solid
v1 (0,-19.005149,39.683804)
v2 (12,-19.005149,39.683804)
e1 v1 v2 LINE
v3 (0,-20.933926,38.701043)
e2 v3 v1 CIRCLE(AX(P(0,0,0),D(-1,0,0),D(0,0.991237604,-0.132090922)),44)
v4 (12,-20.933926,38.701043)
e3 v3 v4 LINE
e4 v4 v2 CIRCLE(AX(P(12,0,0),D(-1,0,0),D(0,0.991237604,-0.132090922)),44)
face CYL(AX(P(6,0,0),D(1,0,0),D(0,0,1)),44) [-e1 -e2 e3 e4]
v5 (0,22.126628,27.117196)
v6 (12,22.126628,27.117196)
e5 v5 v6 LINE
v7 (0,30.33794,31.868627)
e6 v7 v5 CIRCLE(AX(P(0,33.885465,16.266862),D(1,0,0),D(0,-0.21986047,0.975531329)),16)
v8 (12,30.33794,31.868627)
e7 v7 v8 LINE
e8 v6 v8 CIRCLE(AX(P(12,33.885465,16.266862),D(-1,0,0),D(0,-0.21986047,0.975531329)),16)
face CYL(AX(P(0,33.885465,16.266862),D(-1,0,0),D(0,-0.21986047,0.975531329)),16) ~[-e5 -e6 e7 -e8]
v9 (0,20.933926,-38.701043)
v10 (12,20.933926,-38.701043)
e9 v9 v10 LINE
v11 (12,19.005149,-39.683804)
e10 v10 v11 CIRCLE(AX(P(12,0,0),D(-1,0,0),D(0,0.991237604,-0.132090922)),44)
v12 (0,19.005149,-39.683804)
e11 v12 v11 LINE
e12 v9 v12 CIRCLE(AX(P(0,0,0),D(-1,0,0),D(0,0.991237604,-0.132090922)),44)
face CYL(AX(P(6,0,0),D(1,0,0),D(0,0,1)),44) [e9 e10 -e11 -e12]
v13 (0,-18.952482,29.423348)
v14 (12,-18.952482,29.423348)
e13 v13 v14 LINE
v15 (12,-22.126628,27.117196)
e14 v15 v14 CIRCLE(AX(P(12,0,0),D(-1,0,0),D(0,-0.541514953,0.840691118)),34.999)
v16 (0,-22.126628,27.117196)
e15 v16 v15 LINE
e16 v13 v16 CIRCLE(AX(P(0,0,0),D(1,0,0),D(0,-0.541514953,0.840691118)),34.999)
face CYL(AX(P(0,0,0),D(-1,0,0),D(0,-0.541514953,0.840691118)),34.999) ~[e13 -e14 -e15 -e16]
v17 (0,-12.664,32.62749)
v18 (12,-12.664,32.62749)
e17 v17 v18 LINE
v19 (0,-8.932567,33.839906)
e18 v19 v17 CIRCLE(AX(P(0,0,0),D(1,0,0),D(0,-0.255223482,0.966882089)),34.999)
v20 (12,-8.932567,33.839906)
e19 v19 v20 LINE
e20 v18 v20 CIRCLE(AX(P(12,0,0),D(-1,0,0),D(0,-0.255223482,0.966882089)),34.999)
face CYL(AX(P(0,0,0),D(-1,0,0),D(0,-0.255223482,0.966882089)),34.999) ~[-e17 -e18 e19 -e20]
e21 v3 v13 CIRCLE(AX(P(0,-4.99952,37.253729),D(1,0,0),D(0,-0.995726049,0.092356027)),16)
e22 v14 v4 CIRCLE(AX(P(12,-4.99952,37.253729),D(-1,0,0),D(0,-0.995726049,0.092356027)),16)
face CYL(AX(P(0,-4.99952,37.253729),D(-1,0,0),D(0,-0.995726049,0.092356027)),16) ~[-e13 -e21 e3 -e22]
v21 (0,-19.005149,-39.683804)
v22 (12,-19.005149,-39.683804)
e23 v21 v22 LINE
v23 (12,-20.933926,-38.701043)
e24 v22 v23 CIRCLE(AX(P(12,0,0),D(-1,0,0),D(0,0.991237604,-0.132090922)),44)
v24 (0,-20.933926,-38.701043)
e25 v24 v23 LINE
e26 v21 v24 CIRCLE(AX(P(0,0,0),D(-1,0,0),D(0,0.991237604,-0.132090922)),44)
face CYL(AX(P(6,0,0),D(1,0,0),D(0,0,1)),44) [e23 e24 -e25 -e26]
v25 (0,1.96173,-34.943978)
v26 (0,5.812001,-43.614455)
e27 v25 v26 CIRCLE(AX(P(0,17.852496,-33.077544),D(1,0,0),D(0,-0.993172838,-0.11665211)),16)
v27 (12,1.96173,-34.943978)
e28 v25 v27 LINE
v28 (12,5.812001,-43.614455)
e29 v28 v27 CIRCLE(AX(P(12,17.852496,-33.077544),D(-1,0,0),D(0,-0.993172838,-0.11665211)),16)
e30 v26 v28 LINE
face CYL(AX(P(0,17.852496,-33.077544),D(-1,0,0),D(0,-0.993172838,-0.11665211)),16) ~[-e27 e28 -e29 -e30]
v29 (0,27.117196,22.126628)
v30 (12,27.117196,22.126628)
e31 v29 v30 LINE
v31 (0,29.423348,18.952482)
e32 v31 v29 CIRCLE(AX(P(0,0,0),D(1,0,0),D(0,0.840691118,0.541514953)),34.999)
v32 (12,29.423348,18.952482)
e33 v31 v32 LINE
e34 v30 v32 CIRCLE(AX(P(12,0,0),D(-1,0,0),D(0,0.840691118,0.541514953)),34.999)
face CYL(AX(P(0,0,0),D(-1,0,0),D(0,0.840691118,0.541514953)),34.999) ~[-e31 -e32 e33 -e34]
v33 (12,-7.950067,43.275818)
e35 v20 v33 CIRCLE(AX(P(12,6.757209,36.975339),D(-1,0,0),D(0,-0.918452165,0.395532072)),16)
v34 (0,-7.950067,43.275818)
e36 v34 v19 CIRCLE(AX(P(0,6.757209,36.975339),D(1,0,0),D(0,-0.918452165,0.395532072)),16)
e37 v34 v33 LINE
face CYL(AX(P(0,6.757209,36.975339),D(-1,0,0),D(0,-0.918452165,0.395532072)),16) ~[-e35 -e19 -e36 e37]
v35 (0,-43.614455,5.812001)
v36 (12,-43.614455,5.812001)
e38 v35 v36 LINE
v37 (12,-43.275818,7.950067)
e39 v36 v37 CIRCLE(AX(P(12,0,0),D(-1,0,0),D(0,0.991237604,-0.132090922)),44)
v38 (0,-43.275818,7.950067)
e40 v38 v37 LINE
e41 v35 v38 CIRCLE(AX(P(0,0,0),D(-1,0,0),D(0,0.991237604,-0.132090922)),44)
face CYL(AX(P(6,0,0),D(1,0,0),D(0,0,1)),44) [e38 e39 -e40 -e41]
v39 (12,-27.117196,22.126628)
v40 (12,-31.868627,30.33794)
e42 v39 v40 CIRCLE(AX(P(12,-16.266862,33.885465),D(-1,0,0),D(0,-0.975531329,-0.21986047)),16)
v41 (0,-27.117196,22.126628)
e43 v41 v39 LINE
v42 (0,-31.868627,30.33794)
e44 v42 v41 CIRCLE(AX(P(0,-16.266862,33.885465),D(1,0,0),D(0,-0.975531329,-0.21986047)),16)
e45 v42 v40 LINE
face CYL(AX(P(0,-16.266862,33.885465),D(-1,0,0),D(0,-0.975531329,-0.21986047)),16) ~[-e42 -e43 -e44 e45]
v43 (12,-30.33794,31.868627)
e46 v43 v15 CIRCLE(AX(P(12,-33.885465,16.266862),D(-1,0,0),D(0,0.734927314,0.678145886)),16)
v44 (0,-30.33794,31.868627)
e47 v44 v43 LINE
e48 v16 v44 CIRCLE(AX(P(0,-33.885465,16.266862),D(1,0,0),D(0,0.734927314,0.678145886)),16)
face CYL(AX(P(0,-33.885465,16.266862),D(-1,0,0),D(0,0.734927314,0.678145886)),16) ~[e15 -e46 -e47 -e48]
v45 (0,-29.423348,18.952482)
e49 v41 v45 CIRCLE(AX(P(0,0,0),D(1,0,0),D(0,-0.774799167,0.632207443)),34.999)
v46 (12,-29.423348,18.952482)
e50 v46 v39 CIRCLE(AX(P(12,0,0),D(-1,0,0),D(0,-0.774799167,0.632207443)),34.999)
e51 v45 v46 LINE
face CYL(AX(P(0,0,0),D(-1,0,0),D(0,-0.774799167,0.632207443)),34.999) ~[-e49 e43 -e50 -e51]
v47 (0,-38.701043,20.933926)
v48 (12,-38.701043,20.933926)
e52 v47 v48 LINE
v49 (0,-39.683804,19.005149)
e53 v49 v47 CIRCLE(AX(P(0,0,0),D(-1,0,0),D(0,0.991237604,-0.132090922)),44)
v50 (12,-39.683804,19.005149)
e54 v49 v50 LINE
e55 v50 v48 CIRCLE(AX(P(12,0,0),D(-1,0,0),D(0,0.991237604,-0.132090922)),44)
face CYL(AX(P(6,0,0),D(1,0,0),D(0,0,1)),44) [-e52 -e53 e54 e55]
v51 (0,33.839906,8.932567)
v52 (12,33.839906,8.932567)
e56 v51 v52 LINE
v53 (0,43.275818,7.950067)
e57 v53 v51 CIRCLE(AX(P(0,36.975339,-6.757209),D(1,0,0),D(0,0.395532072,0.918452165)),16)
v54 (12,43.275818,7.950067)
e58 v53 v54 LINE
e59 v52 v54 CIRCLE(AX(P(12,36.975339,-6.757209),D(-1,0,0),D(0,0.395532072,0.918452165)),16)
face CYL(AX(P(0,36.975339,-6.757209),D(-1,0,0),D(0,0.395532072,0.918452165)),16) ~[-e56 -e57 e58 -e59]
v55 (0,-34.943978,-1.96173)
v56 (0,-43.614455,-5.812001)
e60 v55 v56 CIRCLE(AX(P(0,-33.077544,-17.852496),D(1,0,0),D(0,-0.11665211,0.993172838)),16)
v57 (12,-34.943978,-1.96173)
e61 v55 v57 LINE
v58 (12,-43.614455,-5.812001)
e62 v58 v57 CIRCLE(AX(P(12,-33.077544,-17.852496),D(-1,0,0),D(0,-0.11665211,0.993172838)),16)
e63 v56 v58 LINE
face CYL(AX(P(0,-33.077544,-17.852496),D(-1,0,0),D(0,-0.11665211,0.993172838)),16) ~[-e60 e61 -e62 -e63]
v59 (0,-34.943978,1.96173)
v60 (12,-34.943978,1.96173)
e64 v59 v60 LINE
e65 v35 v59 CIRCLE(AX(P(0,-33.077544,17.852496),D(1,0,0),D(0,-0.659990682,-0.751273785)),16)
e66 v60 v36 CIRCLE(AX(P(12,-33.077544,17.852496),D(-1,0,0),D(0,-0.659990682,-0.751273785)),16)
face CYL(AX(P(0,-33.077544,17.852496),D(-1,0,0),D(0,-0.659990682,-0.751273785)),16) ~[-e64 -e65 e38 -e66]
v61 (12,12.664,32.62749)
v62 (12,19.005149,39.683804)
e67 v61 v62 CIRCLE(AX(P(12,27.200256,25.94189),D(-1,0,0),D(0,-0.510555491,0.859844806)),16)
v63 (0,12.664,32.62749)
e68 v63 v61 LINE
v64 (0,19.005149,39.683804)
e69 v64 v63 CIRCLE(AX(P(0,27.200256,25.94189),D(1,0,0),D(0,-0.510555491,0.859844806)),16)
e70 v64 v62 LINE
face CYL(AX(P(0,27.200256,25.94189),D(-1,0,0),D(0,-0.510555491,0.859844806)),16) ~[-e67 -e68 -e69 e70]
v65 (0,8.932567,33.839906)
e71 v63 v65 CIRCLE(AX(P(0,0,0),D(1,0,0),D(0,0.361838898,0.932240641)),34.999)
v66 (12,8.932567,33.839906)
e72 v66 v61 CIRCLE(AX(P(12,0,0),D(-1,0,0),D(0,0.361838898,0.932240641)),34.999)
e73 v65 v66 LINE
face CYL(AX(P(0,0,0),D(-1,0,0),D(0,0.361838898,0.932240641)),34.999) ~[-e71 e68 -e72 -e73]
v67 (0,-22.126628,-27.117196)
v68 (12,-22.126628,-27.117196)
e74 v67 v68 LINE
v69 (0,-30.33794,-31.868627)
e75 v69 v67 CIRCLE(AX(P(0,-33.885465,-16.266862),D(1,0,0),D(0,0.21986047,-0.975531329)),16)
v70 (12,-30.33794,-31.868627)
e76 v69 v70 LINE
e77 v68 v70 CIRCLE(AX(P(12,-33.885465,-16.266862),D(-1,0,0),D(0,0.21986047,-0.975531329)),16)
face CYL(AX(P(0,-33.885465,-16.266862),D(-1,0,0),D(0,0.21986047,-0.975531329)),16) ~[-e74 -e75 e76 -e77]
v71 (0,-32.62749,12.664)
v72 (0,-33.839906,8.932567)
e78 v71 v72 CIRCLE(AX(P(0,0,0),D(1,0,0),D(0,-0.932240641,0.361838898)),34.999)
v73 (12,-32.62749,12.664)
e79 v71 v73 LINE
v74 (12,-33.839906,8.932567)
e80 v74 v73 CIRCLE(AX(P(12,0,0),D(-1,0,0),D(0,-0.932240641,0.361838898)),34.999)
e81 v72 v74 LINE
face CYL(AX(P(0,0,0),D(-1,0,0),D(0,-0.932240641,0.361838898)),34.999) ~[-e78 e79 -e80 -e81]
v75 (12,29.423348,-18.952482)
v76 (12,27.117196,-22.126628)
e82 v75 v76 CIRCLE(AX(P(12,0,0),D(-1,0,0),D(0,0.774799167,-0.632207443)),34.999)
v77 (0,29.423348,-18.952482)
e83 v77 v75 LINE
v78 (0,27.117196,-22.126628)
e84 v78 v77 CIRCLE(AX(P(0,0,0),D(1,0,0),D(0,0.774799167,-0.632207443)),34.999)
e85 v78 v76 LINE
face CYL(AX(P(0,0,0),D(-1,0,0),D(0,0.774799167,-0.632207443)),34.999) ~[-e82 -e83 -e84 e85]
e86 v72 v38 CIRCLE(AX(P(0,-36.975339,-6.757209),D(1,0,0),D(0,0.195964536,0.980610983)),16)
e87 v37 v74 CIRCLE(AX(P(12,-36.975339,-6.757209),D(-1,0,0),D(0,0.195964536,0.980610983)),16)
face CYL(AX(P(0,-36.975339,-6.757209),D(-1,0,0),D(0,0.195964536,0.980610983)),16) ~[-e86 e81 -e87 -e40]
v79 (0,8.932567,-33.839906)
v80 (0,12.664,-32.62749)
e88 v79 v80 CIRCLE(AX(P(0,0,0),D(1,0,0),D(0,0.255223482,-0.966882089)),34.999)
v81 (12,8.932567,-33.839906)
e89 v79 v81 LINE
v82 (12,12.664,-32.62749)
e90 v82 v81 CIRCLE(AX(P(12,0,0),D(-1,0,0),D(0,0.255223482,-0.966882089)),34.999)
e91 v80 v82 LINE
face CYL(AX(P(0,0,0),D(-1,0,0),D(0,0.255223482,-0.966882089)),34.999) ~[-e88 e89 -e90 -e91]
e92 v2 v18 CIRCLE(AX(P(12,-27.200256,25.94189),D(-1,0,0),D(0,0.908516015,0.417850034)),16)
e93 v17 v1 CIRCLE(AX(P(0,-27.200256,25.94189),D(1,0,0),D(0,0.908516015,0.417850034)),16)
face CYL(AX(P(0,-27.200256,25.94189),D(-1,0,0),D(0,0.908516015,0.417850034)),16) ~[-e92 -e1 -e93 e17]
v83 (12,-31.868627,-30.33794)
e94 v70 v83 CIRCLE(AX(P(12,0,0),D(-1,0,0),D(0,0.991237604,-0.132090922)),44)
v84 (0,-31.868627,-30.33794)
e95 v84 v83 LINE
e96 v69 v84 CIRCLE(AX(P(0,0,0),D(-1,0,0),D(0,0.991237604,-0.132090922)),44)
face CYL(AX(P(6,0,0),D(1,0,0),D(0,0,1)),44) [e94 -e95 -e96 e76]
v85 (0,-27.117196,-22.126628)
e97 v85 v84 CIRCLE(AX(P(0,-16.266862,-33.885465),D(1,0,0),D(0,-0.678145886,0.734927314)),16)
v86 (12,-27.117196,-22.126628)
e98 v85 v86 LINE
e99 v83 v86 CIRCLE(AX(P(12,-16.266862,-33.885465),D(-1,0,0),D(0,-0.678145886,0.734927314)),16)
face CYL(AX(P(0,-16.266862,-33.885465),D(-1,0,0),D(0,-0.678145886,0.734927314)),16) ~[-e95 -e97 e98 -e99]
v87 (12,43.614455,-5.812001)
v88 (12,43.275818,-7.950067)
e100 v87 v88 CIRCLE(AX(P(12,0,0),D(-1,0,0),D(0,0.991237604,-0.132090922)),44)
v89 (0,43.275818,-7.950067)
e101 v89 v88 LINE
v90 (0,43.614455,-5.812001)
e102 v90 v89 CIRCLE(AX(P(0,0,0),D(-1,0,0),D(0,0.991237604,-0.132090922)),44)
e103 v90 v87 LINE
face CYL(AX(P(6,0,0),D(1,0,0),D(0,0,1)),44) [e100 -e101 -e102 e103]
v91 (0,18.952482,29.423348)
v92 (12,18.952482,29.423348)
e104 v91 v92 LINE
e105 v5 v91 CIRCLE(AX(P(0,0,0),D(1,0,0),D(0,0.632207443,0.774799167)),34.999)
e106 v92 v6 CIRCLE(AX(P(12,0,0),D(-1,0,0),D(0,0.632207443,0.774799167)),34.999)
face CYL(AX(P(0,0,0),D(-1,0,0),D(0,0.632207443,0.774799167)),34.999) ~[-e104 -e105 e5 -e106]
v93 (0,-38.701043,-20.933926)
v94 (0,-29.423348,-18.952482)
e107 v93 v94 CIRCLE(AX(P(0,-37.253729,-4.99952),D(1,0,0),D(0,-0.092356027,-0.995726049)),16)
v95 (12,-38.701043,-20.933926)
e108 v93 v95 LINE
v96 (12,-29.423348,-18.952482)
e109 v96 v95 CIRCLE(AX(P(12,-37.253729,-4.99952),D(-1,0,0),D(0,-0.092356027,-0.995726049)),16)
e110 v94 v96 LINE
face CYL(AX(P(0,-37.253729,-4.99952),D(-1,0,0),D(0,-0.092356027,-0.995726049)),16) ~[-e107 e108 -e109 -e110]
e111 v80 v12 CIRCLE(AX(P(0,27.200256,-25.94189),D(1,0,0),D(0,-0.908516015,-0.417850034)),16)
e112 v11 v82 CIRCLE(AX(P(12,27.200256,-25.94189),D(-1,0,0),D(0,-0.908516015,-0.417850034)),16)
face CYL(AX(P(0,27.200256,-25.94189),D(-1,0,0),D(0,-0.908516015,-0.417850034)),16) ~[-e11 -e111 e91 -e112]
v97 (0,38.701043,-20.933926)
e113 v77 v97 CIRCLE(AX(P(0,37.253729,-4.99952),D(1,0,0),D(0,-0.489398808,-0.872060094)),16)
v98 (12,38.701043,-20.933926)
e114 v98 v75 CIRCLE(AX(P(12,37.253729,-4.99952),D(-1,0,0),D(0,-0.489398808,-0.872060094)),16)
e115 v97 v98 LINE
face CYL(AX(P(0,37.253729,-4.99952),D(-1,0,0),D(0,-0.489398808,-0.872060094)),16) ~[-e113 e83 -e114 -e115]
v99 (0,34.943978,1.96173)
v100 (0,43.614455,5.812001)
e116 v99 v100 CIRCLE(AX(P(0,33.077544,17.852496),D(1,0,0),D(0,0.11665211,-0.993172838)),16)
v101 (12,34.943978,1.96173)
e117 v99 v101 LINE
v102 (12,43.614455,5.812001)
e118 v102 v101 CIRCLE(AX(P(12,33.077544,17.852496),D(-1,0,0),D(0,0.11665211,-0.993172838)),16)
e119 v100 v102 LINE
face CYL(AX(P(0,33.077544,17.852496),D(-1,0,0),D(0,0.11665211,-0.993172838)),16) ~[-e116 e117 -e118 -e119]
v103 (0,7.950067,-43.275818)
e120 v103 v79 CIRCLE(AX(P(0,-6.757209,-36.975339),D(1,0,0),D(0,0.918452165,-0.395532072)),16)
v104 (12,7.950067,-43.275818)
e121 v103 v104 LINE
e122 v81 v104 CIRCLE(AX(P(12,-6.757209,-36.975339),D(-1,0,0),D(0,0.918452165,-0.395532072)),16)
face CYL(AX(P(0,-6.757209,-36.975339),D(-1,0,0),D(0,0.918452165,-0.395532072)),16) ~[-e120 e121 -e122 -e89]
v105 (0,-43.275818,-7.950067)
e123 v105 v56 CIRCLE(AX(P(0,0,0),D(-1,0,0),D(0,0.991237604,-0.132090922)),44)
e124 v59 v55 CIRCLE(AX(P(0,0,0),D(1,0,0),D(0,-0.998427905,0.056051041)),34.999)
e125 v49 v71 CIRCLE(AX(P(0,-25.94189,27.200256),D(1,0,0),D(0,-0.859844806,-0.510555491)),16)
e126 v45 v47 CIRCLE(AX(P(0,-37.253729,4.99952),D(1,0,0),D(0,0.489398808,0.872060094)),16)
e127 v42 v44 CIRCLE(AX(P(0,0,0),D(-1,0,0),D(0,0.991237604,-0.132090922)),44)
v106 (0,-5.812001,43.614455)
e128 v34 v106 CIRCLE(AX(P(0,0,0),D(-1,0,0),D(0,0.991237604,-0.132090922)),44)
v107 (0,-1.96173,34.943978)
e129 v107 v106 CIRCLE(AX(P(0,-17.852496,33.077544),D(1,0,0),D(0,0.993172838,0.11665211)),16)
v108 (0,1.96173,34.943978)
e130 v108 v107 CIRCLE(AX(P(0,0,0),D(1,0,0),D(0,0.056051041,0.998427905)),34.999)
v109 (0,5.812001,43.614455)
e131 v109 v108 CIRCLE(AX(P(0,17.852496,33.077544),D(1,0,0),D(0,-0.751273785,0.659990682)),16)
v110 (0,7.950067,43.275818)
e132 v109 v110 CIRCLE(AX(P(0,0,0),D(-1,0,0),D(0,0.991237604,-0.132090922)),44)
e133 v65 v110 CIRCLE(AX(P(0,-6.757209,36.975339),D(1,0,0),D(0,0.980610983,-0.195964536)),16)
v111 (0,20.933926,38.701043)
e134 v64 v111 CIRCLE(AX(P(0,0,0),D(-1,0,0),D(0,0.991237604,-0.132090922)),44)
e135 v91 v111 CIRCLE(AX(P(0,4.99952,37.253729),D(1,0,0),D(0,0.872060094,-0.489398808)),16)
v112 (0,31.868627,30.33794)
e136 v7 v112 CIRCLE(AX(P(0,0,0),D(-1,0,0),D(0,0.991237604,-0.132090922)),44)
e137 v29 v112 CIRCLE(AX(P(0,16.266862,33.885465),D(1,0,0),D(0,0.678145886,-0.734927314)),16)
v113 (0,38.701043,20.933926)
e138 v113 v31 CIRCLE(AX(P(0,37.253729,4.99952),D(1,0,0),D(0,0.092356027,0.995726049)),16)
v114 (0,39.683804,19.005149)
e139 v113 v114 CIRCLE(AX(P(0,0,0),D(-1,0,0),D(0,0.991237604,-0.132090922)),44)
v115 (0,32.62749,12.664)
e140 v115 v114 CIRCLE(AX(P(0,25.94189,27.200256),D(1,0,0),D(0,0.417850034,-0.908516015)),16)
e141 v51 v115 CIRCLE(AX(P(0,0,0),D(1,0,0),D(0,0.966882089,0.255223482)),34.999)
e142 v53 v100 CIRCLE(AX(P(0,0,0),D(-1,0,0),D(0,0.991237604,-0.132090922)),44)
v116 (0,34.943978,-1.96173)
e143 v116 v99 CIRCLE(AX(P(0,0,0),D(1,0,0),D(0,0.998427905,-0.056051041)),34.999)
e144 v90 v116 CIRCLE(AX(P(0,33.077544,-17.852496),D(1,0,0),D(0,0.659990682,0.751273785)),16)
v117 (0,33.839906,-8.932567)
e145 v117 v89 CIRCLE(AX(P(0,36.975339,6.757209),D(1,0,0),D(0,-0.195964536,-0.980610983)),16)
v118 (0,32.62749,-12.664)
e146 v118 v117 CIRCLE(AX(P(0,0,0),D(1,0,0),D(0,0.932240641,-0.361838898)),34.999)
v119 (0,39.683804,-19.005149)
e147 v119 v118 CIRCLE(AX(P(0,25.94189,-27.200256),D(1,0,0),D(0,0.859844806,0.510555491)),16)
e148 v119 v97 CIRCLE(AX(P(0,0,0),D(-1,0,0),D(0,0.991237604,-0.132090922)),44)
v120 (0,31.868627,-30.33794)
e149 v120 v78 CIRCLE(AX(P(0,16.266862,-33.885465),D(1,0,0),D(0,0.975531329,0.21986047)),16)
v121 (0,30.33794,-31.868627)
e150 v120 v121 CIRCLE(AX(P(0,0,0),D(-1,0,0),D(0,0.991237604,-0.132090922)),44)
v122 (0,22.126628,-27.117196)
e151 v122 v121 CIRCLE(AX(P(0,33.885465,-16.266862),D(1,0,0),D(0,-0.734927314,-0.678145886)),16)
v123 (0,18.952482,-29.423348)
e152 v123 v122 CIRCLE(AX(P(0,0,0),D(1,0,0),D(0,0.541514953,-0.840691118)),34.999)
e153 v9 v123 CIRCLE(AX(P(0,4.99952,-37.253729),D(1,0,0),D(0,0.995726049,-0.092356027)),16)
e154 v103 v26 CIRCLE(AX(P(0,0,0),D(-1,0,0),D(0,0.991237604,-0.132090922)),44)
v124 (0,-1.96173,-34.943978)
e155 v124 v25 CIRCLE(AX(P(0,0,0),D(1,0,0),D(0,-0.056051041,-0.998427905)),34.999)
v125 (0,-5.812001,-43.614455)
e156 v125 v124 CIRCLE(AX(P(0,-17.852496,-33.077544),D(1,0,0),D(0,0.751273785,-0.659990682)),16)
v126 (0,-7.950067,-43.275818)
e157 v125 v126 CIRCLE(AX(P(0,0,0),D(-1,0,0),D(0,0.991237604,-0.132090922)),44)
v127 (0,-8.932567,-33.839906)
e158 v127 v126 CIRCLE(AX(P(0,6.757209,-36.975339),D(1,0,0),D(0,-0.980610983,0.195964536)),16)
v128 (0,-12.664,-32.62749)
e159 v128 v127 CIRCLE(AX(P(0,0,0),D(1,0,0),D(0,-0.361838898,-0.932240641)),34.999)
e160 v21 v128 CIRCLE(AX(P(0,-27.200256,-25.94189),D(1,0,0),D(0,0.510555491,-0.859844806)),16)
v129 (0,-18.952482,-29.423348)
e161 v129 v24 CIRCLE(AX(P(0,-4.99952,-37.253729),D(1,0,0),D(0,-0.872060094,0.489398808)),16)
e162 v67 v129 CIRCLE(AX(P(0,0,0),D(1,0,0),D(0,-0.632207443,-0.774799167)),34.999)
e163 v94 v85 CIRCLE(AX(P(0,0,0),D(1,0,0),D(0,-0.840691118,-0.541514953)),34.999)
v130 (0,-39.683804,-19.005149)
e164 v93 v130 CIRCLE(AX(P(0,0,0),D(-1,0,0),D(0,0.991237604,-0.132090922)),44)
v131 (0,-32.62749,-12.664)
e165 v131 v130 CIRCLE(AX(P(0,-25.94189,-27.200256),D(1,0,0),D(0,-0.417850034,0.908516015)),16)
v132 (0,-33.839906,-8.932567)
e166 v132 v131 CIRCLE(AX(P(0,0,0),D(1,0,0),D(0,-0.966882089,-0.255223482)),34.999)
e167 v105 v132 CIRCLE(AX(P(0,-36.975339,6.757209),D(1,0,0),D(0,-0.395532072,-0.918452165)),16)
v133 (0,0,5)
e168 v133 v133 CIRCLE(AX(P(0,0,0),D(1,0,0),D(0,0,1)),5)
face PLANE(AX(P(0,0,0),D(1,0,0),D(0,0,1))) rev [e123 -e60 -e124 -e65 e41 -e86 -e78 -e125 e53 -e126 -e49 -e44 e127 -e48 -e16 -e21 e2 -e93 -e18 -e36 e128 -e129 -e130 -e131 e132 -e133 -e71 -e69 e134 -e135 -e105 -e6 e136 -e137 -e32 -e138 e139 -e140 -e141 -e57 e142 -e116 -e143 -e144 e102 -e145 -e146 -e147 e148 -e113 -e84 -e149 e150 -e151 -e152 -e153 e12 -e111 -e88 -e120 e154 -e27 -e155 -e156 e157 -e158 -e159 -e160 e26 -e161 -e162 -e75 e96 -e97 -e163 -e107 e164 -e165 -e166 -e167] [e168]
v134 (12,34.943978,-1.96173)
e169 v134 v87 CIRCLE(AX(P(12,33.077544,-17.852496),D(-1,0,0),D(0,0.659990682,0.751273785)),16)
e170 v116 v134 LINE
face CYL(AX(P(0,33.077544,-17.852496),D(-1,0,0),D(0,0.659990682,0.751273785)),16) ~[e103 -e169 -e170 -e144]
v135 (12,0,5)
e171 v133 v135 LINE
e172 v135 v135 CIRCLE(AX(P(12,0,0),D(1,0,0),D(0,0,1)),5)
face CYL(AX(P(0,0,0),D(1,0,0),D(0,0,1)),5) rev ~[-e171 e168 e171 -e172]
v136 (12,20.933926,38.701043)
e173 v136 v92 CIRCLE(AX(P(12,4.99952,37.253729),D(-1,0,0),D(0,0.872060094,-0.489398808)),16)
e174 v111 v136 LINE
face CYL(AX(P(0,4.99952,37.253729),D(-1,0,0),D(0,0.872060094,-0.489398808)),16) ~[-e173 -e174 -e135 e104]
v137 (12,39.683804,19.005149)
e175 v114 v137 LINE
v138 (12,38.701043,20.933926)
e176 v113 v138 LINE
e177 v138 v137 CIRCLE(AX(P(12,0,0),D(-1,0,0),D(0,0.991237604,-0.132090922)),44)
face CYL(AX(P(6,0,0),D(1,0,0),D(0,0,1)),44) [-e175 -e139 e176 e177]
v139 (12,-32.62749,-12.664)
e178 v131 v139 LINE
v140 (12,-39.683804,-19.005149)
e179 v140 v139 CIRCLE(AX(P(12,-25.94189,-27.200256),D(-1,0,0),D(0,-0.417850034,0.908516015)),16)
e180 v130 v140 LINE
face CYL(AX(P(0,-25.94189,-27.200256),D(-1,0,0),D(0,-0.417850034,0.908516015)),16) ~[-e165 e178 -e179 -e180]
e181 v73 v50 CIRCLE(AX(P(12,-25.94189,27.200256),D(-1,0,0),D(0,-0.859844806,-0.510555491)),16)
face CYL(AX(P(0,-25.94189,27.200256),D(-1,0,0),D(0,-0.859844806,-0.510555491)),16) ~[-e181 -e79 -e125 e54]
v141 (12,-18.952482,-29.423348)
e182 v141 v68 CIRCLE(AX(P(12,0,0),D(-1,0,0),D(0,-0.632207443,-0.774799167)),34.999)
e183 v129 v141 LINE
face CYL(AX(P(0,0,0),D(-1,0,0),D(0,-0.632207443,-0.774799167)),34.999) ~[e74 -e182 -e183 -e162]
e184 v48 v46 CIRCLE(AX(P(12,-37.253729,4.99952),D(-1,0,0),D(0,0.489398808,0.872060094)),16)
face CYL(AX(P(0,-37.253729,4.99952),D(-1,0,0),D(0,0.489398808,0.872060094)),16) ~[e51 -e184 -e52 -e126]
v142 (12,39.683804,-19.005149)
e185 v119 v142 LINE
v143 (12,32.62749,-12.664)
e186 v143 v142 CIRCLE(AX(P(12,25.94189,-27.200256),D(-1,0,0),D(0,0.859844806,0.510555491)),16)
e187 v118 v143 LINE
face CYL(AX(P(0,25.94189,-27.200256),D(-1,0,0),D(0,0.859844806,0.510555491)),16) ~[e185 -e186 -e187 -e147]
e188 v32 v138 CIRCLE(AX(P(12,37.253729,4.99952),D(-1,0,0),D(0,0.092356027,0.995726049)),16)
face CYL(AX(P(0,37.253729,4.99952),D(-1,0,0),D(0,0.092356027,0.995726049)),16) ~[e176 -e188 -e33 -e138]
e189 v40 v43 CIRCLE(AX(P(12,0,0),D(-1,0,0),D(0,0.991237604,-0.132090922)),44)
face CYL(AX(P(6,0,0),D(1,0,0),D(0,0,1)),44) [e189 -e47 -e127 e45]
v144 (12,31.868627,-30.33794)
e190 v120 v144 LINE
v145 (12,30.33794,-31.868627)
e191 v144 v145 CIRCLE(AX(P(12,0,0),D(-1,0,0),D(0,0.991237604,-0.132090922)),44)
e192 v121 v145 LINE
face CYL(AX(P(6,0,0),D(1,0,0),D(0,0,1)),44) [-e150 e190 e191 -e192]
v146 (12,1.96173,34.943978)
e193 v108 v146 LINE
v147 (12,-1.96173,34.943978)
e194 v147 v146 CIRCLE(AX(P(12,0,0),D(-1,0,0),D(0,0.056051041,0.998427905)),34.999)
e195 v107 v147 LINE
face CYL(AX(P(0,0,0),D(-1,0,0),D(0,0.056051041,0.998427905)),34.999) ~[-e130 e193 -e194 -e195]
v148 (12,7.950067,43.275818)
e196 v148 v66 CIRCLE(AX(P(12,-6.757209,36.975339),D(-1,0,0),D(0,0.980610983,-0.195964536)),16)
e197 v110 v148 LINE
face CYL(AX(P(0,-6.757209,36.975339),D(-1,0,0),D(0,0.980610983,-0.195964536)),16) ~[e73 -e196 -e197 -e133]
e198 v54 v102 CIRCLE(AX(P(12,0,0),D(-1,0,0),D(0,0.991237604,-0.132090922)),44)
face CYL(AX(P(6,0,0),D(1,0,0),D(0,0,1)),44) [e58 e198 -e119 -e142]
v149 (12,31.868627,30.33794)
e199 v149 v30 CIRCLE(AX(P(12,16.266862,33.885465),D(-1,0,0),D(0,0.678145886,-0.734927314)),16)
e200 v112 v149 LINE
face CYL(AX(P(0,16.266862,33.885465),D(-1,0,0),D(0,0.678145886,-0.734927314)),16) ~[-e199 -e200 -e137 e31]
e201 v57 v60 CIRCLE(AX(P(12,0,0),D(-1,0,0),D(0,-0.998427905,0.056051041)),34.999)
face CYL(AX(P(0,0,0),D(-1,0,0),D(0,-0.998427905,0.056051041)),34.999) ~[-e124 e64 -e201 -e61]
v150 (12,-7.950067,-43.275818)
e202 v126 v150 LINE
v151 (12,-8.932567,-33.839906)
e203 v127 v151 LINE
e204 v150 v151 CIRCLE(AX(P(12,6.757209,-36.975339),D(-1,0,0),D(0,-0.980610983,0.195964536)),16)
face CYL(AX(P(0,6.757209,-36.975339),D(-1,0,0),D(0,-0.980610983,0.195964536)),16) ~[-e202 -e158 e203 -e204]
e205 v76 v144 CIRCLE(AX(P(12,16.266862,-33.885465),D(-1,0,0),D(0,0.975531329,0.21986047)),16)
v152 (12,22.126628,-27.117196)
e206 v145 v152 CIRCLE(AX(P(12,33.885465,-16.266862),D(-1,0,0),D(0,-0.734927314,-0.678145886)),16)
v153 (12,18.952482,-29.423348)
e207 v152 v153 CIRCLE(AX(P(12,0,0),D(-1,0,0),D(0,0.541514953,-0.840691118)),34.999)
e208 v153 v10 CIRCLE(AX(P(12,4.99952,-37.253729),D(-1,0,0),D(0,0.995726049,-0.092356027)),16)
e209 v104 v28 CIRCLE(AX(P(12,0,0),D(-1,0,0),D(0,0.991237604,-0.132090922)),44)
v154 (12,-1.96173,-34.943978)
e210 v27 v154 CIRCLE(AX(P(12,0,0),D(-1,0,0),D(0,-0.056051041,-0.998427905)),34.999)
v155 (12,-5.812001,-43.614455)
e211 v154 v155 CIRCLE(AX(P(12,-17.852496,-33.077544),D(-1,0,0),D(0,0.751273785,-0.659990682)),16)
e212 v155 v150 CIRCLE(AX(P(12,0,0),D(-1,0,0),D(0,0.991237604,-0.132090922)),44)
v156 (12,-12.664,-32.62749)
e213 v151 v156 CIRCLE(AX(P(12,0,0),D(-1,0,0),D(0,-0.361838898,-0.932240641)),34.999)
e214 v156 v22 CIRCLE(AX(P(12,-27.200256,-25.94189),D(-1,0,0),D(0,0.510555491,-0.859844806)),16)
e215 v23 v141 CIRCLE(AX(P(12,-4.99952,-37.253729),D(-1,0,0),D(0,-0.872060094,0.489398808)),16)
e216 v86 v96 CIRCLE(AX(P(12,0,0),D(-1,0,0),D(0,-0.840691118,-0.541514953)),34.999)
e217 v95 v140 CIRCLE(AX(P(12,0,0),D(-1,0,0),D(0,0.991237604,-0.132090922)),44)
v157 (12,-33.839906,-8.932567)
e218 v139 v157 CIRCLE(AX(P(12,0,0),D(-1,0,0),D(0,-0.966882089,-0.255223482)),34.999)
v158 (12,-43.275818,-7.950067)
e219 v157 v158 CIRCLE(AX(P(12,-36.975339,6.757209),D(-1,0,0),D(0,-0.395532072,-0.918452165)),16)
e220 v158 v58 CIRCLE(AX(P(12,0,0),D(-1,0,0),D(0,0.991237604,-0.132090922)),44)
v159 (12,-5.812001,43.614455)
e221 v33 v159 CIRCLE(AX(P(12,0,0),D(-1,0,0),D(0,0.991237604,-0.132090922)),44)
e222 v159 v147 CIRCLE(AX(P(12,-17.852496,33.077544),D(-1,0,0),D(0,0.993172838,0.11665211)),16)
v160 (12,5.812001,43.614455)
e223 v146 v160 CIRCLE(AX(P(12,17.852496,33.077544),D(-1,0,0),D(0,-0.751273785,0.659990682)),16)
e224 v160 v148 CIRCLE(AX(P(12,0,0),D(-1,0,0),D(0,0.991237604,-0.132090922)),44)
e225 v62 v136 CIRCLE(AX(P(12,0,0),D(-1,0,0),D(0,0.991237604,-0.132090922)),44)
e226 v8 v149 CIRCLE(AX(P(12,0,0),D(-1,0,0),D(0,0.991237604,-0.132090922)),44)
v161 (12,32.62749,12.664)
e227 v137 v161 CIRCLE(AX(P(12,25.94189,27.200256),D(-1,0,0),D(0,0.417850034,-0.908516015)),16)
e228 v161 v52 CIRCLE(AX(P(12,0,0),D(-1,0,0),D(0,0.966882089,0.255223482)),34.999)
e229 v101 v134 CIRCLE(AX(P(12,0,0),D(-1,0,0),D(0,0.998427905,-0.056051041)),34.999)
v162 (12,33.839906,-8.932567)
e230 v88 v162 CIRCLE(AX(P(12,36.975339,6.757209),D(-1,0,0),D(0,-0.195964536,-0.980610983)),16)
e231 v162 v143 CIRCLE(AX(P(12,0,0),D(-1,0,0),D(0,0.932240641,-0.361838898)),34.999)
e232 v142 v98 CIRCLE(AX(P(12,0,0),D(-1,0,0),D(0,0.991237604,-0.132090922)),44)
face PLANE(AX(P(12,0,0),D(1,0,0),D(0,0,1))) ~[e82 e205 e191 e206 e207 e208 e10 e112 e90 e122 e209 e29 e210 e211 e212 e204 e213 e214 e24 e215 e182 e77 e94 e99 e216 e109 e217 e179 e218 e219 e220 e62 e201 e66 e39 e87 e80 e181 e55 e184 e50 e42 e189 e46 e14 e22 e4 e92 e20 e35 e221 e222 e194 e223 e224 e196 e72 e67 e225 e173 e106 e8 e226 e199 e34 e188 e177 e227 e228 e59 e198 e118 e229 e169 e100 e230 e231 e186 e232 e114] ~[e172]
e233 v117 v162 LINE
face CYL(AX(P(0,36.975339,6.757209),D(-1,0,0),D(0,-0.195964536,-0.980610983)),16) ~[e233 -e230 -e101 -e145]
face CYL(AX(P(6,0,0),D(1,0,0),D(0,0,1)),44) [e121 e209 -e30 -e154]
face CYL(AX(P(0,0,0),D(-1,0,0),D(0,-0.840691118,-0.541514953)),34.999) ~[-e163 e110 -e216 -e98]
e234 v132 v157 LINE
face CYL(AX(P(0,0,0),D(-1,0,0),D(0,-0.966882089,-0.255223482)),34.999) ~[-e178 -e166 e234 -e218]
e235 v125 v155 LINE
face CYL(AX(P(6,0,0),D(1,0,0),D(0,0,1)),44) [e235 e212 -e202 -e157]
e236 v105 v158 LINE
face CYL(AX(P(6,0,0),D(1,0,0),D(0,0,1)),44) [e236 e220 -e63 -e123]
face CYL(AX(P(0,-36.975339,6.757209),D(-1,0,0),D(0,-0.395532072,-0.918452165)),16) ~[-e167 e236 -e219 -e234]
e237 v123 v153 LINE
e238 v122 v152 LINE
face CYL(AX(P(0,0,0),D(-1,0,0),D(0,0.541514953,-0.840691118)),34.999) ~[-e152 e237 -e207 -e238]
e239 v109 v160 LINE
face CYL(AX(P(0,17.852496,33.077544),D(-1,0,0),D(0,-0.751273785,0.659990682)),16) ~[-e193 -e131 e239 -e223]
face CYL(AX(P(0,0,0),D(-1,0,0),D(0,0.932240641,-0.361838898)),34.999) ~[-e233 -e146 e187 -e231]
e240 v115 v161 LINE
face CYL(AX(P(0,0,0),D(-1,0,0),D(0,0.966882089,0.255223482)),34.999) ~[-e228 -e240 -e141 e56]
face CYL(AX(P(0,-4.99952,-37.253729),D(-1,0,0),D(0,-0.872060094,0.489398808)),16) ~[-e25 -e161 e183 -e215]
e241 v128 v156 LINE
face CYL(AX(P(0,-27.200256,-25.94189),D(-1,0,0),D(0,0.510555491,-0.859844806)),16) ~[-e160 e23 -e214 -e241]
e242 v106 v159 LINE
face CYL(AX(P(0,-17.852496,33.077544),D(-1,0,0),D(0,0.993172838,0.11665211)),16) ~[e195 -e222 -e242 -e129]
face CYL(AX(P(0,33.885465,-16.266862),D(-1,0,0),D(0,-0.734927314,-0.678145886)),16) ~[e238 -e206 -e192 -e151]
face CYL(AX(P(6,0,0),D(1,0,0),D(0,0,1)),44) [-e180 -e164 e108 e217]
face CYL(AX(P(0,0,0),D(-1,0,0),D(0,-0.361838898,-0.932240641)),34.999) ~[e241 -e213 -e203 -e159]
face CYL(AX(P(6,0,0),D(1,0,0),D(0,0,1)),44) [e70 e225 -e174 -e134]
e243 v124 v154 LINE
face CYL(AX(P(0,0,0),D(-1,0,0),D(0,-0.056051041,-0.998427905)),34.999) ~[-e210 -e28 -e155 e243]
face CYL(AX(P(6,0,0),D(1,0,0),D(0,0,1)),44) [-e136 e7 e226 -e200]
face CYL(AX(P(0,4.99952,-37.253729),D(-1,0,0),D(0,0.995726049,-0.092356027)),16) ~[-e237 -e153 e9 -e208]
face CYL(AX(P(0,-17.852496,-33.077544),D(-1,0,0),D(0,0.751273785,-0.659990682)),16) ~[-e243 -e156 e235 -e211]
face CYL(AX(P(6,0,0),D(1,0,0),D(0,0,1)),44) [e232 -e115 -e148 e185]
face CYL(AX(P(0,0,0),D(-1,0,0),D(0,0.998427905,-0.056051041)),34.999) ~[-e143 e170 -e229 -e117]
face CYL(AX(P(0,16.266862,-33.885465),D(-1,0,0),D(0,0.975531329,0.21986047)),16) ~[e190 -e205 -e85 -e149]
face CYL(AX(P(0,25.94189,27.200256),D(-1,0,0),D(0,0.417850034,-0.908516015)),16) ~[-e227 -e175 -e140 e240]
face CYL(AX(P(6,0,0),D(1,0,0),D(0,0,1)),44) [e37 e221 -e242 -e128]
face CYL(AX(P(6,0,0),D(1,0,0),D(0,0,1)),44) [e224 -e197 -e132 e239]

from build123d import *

# Parameters (mm, degrees)
BASPROSKE_W     = 12
BASPROSKE_H     = 44
TOOTHCUT_DEPTH  = 64.371918071
TEETHCUTS_COUNT = 20
TEETHCUTS_ANGLE = 342
BORSKE_R        = 5
BORE_DEPTH      = 50.0000508


with BuildPart() as part:
    # BasProSke → Base-Revolve (revolve)
    with BuildSketch(Plane(origin=(0, 0, 0), x_dir=(1, 0, 0), z_dir=(0, 1, 0)), mode=Mode.PRIVATE) as base_revolve_sk:
        with Locations((6, 22)):
            Rectangle(BASPROSKE_W, BASPROSKE_H)
    revolve(base_revolve_sk.sketch.rotate(Axis((-10, 0, 0), (1, 0, 0)), 180), axis=Axis((-10, 0, 0), (1, 0, 0)))

    # TooCutSke → ToothCut (cut, through all)
    with BuildSketch(Plane(origin=(0, 0, 0), x_dir=(0, 0, -1), z_dir=(1, 0, 0))):
        with BuildLine():
            ThreePointArc((1.961730392, 34.943978235), (0, 34.999), (-1.961730392, 34.943978235))
            ThreePointArc((-1.961730392, 34.943978235), (-3.235659864, 39.585086827), (-5.832115241, 43.637395396))
            ThreePointArc((-5.832115241, 43.637395396), (0, 44.0254), (5.832115241, 43.637395396))
            ThreePointArc((5.832115241, 43.637395396), (3.235659864, 39.585086827), (1.961730392, 34.943978235))
        make_face()
    toothcut = extrude(amount=TOOTHCUT_DEPTH, mode=Mode.SUBTRACT)

    # TeethCuts: ToothCut ×20 about axis
    teethcuts_axis = Axis((-10, 0, 0), (1, 0, 0))
    for i in range(1, TEETHCUTS_COUNT):
        add(toothcut.rotate(teethcuts_axis, i * TEETHCUTS_ANGLE / (TEETHCUTS_COUNT - 1)), mode=Mode.SUBTRACT)

    # BorSke → Bore (cut, symmetric)
    with BuildSketch(Plane(origin=(0, 0, 0), x_dir=(0, 0, -1), z_dir=(1, 0, 0))):
        with Locations(Location((0, 0, 0), (0, 0, 180))):
            Circle(BORSKE_R)
    extrude(amount=BORE_DEPTH, both=True, mode=Mode.SUBTRACT)


solid = part.part
